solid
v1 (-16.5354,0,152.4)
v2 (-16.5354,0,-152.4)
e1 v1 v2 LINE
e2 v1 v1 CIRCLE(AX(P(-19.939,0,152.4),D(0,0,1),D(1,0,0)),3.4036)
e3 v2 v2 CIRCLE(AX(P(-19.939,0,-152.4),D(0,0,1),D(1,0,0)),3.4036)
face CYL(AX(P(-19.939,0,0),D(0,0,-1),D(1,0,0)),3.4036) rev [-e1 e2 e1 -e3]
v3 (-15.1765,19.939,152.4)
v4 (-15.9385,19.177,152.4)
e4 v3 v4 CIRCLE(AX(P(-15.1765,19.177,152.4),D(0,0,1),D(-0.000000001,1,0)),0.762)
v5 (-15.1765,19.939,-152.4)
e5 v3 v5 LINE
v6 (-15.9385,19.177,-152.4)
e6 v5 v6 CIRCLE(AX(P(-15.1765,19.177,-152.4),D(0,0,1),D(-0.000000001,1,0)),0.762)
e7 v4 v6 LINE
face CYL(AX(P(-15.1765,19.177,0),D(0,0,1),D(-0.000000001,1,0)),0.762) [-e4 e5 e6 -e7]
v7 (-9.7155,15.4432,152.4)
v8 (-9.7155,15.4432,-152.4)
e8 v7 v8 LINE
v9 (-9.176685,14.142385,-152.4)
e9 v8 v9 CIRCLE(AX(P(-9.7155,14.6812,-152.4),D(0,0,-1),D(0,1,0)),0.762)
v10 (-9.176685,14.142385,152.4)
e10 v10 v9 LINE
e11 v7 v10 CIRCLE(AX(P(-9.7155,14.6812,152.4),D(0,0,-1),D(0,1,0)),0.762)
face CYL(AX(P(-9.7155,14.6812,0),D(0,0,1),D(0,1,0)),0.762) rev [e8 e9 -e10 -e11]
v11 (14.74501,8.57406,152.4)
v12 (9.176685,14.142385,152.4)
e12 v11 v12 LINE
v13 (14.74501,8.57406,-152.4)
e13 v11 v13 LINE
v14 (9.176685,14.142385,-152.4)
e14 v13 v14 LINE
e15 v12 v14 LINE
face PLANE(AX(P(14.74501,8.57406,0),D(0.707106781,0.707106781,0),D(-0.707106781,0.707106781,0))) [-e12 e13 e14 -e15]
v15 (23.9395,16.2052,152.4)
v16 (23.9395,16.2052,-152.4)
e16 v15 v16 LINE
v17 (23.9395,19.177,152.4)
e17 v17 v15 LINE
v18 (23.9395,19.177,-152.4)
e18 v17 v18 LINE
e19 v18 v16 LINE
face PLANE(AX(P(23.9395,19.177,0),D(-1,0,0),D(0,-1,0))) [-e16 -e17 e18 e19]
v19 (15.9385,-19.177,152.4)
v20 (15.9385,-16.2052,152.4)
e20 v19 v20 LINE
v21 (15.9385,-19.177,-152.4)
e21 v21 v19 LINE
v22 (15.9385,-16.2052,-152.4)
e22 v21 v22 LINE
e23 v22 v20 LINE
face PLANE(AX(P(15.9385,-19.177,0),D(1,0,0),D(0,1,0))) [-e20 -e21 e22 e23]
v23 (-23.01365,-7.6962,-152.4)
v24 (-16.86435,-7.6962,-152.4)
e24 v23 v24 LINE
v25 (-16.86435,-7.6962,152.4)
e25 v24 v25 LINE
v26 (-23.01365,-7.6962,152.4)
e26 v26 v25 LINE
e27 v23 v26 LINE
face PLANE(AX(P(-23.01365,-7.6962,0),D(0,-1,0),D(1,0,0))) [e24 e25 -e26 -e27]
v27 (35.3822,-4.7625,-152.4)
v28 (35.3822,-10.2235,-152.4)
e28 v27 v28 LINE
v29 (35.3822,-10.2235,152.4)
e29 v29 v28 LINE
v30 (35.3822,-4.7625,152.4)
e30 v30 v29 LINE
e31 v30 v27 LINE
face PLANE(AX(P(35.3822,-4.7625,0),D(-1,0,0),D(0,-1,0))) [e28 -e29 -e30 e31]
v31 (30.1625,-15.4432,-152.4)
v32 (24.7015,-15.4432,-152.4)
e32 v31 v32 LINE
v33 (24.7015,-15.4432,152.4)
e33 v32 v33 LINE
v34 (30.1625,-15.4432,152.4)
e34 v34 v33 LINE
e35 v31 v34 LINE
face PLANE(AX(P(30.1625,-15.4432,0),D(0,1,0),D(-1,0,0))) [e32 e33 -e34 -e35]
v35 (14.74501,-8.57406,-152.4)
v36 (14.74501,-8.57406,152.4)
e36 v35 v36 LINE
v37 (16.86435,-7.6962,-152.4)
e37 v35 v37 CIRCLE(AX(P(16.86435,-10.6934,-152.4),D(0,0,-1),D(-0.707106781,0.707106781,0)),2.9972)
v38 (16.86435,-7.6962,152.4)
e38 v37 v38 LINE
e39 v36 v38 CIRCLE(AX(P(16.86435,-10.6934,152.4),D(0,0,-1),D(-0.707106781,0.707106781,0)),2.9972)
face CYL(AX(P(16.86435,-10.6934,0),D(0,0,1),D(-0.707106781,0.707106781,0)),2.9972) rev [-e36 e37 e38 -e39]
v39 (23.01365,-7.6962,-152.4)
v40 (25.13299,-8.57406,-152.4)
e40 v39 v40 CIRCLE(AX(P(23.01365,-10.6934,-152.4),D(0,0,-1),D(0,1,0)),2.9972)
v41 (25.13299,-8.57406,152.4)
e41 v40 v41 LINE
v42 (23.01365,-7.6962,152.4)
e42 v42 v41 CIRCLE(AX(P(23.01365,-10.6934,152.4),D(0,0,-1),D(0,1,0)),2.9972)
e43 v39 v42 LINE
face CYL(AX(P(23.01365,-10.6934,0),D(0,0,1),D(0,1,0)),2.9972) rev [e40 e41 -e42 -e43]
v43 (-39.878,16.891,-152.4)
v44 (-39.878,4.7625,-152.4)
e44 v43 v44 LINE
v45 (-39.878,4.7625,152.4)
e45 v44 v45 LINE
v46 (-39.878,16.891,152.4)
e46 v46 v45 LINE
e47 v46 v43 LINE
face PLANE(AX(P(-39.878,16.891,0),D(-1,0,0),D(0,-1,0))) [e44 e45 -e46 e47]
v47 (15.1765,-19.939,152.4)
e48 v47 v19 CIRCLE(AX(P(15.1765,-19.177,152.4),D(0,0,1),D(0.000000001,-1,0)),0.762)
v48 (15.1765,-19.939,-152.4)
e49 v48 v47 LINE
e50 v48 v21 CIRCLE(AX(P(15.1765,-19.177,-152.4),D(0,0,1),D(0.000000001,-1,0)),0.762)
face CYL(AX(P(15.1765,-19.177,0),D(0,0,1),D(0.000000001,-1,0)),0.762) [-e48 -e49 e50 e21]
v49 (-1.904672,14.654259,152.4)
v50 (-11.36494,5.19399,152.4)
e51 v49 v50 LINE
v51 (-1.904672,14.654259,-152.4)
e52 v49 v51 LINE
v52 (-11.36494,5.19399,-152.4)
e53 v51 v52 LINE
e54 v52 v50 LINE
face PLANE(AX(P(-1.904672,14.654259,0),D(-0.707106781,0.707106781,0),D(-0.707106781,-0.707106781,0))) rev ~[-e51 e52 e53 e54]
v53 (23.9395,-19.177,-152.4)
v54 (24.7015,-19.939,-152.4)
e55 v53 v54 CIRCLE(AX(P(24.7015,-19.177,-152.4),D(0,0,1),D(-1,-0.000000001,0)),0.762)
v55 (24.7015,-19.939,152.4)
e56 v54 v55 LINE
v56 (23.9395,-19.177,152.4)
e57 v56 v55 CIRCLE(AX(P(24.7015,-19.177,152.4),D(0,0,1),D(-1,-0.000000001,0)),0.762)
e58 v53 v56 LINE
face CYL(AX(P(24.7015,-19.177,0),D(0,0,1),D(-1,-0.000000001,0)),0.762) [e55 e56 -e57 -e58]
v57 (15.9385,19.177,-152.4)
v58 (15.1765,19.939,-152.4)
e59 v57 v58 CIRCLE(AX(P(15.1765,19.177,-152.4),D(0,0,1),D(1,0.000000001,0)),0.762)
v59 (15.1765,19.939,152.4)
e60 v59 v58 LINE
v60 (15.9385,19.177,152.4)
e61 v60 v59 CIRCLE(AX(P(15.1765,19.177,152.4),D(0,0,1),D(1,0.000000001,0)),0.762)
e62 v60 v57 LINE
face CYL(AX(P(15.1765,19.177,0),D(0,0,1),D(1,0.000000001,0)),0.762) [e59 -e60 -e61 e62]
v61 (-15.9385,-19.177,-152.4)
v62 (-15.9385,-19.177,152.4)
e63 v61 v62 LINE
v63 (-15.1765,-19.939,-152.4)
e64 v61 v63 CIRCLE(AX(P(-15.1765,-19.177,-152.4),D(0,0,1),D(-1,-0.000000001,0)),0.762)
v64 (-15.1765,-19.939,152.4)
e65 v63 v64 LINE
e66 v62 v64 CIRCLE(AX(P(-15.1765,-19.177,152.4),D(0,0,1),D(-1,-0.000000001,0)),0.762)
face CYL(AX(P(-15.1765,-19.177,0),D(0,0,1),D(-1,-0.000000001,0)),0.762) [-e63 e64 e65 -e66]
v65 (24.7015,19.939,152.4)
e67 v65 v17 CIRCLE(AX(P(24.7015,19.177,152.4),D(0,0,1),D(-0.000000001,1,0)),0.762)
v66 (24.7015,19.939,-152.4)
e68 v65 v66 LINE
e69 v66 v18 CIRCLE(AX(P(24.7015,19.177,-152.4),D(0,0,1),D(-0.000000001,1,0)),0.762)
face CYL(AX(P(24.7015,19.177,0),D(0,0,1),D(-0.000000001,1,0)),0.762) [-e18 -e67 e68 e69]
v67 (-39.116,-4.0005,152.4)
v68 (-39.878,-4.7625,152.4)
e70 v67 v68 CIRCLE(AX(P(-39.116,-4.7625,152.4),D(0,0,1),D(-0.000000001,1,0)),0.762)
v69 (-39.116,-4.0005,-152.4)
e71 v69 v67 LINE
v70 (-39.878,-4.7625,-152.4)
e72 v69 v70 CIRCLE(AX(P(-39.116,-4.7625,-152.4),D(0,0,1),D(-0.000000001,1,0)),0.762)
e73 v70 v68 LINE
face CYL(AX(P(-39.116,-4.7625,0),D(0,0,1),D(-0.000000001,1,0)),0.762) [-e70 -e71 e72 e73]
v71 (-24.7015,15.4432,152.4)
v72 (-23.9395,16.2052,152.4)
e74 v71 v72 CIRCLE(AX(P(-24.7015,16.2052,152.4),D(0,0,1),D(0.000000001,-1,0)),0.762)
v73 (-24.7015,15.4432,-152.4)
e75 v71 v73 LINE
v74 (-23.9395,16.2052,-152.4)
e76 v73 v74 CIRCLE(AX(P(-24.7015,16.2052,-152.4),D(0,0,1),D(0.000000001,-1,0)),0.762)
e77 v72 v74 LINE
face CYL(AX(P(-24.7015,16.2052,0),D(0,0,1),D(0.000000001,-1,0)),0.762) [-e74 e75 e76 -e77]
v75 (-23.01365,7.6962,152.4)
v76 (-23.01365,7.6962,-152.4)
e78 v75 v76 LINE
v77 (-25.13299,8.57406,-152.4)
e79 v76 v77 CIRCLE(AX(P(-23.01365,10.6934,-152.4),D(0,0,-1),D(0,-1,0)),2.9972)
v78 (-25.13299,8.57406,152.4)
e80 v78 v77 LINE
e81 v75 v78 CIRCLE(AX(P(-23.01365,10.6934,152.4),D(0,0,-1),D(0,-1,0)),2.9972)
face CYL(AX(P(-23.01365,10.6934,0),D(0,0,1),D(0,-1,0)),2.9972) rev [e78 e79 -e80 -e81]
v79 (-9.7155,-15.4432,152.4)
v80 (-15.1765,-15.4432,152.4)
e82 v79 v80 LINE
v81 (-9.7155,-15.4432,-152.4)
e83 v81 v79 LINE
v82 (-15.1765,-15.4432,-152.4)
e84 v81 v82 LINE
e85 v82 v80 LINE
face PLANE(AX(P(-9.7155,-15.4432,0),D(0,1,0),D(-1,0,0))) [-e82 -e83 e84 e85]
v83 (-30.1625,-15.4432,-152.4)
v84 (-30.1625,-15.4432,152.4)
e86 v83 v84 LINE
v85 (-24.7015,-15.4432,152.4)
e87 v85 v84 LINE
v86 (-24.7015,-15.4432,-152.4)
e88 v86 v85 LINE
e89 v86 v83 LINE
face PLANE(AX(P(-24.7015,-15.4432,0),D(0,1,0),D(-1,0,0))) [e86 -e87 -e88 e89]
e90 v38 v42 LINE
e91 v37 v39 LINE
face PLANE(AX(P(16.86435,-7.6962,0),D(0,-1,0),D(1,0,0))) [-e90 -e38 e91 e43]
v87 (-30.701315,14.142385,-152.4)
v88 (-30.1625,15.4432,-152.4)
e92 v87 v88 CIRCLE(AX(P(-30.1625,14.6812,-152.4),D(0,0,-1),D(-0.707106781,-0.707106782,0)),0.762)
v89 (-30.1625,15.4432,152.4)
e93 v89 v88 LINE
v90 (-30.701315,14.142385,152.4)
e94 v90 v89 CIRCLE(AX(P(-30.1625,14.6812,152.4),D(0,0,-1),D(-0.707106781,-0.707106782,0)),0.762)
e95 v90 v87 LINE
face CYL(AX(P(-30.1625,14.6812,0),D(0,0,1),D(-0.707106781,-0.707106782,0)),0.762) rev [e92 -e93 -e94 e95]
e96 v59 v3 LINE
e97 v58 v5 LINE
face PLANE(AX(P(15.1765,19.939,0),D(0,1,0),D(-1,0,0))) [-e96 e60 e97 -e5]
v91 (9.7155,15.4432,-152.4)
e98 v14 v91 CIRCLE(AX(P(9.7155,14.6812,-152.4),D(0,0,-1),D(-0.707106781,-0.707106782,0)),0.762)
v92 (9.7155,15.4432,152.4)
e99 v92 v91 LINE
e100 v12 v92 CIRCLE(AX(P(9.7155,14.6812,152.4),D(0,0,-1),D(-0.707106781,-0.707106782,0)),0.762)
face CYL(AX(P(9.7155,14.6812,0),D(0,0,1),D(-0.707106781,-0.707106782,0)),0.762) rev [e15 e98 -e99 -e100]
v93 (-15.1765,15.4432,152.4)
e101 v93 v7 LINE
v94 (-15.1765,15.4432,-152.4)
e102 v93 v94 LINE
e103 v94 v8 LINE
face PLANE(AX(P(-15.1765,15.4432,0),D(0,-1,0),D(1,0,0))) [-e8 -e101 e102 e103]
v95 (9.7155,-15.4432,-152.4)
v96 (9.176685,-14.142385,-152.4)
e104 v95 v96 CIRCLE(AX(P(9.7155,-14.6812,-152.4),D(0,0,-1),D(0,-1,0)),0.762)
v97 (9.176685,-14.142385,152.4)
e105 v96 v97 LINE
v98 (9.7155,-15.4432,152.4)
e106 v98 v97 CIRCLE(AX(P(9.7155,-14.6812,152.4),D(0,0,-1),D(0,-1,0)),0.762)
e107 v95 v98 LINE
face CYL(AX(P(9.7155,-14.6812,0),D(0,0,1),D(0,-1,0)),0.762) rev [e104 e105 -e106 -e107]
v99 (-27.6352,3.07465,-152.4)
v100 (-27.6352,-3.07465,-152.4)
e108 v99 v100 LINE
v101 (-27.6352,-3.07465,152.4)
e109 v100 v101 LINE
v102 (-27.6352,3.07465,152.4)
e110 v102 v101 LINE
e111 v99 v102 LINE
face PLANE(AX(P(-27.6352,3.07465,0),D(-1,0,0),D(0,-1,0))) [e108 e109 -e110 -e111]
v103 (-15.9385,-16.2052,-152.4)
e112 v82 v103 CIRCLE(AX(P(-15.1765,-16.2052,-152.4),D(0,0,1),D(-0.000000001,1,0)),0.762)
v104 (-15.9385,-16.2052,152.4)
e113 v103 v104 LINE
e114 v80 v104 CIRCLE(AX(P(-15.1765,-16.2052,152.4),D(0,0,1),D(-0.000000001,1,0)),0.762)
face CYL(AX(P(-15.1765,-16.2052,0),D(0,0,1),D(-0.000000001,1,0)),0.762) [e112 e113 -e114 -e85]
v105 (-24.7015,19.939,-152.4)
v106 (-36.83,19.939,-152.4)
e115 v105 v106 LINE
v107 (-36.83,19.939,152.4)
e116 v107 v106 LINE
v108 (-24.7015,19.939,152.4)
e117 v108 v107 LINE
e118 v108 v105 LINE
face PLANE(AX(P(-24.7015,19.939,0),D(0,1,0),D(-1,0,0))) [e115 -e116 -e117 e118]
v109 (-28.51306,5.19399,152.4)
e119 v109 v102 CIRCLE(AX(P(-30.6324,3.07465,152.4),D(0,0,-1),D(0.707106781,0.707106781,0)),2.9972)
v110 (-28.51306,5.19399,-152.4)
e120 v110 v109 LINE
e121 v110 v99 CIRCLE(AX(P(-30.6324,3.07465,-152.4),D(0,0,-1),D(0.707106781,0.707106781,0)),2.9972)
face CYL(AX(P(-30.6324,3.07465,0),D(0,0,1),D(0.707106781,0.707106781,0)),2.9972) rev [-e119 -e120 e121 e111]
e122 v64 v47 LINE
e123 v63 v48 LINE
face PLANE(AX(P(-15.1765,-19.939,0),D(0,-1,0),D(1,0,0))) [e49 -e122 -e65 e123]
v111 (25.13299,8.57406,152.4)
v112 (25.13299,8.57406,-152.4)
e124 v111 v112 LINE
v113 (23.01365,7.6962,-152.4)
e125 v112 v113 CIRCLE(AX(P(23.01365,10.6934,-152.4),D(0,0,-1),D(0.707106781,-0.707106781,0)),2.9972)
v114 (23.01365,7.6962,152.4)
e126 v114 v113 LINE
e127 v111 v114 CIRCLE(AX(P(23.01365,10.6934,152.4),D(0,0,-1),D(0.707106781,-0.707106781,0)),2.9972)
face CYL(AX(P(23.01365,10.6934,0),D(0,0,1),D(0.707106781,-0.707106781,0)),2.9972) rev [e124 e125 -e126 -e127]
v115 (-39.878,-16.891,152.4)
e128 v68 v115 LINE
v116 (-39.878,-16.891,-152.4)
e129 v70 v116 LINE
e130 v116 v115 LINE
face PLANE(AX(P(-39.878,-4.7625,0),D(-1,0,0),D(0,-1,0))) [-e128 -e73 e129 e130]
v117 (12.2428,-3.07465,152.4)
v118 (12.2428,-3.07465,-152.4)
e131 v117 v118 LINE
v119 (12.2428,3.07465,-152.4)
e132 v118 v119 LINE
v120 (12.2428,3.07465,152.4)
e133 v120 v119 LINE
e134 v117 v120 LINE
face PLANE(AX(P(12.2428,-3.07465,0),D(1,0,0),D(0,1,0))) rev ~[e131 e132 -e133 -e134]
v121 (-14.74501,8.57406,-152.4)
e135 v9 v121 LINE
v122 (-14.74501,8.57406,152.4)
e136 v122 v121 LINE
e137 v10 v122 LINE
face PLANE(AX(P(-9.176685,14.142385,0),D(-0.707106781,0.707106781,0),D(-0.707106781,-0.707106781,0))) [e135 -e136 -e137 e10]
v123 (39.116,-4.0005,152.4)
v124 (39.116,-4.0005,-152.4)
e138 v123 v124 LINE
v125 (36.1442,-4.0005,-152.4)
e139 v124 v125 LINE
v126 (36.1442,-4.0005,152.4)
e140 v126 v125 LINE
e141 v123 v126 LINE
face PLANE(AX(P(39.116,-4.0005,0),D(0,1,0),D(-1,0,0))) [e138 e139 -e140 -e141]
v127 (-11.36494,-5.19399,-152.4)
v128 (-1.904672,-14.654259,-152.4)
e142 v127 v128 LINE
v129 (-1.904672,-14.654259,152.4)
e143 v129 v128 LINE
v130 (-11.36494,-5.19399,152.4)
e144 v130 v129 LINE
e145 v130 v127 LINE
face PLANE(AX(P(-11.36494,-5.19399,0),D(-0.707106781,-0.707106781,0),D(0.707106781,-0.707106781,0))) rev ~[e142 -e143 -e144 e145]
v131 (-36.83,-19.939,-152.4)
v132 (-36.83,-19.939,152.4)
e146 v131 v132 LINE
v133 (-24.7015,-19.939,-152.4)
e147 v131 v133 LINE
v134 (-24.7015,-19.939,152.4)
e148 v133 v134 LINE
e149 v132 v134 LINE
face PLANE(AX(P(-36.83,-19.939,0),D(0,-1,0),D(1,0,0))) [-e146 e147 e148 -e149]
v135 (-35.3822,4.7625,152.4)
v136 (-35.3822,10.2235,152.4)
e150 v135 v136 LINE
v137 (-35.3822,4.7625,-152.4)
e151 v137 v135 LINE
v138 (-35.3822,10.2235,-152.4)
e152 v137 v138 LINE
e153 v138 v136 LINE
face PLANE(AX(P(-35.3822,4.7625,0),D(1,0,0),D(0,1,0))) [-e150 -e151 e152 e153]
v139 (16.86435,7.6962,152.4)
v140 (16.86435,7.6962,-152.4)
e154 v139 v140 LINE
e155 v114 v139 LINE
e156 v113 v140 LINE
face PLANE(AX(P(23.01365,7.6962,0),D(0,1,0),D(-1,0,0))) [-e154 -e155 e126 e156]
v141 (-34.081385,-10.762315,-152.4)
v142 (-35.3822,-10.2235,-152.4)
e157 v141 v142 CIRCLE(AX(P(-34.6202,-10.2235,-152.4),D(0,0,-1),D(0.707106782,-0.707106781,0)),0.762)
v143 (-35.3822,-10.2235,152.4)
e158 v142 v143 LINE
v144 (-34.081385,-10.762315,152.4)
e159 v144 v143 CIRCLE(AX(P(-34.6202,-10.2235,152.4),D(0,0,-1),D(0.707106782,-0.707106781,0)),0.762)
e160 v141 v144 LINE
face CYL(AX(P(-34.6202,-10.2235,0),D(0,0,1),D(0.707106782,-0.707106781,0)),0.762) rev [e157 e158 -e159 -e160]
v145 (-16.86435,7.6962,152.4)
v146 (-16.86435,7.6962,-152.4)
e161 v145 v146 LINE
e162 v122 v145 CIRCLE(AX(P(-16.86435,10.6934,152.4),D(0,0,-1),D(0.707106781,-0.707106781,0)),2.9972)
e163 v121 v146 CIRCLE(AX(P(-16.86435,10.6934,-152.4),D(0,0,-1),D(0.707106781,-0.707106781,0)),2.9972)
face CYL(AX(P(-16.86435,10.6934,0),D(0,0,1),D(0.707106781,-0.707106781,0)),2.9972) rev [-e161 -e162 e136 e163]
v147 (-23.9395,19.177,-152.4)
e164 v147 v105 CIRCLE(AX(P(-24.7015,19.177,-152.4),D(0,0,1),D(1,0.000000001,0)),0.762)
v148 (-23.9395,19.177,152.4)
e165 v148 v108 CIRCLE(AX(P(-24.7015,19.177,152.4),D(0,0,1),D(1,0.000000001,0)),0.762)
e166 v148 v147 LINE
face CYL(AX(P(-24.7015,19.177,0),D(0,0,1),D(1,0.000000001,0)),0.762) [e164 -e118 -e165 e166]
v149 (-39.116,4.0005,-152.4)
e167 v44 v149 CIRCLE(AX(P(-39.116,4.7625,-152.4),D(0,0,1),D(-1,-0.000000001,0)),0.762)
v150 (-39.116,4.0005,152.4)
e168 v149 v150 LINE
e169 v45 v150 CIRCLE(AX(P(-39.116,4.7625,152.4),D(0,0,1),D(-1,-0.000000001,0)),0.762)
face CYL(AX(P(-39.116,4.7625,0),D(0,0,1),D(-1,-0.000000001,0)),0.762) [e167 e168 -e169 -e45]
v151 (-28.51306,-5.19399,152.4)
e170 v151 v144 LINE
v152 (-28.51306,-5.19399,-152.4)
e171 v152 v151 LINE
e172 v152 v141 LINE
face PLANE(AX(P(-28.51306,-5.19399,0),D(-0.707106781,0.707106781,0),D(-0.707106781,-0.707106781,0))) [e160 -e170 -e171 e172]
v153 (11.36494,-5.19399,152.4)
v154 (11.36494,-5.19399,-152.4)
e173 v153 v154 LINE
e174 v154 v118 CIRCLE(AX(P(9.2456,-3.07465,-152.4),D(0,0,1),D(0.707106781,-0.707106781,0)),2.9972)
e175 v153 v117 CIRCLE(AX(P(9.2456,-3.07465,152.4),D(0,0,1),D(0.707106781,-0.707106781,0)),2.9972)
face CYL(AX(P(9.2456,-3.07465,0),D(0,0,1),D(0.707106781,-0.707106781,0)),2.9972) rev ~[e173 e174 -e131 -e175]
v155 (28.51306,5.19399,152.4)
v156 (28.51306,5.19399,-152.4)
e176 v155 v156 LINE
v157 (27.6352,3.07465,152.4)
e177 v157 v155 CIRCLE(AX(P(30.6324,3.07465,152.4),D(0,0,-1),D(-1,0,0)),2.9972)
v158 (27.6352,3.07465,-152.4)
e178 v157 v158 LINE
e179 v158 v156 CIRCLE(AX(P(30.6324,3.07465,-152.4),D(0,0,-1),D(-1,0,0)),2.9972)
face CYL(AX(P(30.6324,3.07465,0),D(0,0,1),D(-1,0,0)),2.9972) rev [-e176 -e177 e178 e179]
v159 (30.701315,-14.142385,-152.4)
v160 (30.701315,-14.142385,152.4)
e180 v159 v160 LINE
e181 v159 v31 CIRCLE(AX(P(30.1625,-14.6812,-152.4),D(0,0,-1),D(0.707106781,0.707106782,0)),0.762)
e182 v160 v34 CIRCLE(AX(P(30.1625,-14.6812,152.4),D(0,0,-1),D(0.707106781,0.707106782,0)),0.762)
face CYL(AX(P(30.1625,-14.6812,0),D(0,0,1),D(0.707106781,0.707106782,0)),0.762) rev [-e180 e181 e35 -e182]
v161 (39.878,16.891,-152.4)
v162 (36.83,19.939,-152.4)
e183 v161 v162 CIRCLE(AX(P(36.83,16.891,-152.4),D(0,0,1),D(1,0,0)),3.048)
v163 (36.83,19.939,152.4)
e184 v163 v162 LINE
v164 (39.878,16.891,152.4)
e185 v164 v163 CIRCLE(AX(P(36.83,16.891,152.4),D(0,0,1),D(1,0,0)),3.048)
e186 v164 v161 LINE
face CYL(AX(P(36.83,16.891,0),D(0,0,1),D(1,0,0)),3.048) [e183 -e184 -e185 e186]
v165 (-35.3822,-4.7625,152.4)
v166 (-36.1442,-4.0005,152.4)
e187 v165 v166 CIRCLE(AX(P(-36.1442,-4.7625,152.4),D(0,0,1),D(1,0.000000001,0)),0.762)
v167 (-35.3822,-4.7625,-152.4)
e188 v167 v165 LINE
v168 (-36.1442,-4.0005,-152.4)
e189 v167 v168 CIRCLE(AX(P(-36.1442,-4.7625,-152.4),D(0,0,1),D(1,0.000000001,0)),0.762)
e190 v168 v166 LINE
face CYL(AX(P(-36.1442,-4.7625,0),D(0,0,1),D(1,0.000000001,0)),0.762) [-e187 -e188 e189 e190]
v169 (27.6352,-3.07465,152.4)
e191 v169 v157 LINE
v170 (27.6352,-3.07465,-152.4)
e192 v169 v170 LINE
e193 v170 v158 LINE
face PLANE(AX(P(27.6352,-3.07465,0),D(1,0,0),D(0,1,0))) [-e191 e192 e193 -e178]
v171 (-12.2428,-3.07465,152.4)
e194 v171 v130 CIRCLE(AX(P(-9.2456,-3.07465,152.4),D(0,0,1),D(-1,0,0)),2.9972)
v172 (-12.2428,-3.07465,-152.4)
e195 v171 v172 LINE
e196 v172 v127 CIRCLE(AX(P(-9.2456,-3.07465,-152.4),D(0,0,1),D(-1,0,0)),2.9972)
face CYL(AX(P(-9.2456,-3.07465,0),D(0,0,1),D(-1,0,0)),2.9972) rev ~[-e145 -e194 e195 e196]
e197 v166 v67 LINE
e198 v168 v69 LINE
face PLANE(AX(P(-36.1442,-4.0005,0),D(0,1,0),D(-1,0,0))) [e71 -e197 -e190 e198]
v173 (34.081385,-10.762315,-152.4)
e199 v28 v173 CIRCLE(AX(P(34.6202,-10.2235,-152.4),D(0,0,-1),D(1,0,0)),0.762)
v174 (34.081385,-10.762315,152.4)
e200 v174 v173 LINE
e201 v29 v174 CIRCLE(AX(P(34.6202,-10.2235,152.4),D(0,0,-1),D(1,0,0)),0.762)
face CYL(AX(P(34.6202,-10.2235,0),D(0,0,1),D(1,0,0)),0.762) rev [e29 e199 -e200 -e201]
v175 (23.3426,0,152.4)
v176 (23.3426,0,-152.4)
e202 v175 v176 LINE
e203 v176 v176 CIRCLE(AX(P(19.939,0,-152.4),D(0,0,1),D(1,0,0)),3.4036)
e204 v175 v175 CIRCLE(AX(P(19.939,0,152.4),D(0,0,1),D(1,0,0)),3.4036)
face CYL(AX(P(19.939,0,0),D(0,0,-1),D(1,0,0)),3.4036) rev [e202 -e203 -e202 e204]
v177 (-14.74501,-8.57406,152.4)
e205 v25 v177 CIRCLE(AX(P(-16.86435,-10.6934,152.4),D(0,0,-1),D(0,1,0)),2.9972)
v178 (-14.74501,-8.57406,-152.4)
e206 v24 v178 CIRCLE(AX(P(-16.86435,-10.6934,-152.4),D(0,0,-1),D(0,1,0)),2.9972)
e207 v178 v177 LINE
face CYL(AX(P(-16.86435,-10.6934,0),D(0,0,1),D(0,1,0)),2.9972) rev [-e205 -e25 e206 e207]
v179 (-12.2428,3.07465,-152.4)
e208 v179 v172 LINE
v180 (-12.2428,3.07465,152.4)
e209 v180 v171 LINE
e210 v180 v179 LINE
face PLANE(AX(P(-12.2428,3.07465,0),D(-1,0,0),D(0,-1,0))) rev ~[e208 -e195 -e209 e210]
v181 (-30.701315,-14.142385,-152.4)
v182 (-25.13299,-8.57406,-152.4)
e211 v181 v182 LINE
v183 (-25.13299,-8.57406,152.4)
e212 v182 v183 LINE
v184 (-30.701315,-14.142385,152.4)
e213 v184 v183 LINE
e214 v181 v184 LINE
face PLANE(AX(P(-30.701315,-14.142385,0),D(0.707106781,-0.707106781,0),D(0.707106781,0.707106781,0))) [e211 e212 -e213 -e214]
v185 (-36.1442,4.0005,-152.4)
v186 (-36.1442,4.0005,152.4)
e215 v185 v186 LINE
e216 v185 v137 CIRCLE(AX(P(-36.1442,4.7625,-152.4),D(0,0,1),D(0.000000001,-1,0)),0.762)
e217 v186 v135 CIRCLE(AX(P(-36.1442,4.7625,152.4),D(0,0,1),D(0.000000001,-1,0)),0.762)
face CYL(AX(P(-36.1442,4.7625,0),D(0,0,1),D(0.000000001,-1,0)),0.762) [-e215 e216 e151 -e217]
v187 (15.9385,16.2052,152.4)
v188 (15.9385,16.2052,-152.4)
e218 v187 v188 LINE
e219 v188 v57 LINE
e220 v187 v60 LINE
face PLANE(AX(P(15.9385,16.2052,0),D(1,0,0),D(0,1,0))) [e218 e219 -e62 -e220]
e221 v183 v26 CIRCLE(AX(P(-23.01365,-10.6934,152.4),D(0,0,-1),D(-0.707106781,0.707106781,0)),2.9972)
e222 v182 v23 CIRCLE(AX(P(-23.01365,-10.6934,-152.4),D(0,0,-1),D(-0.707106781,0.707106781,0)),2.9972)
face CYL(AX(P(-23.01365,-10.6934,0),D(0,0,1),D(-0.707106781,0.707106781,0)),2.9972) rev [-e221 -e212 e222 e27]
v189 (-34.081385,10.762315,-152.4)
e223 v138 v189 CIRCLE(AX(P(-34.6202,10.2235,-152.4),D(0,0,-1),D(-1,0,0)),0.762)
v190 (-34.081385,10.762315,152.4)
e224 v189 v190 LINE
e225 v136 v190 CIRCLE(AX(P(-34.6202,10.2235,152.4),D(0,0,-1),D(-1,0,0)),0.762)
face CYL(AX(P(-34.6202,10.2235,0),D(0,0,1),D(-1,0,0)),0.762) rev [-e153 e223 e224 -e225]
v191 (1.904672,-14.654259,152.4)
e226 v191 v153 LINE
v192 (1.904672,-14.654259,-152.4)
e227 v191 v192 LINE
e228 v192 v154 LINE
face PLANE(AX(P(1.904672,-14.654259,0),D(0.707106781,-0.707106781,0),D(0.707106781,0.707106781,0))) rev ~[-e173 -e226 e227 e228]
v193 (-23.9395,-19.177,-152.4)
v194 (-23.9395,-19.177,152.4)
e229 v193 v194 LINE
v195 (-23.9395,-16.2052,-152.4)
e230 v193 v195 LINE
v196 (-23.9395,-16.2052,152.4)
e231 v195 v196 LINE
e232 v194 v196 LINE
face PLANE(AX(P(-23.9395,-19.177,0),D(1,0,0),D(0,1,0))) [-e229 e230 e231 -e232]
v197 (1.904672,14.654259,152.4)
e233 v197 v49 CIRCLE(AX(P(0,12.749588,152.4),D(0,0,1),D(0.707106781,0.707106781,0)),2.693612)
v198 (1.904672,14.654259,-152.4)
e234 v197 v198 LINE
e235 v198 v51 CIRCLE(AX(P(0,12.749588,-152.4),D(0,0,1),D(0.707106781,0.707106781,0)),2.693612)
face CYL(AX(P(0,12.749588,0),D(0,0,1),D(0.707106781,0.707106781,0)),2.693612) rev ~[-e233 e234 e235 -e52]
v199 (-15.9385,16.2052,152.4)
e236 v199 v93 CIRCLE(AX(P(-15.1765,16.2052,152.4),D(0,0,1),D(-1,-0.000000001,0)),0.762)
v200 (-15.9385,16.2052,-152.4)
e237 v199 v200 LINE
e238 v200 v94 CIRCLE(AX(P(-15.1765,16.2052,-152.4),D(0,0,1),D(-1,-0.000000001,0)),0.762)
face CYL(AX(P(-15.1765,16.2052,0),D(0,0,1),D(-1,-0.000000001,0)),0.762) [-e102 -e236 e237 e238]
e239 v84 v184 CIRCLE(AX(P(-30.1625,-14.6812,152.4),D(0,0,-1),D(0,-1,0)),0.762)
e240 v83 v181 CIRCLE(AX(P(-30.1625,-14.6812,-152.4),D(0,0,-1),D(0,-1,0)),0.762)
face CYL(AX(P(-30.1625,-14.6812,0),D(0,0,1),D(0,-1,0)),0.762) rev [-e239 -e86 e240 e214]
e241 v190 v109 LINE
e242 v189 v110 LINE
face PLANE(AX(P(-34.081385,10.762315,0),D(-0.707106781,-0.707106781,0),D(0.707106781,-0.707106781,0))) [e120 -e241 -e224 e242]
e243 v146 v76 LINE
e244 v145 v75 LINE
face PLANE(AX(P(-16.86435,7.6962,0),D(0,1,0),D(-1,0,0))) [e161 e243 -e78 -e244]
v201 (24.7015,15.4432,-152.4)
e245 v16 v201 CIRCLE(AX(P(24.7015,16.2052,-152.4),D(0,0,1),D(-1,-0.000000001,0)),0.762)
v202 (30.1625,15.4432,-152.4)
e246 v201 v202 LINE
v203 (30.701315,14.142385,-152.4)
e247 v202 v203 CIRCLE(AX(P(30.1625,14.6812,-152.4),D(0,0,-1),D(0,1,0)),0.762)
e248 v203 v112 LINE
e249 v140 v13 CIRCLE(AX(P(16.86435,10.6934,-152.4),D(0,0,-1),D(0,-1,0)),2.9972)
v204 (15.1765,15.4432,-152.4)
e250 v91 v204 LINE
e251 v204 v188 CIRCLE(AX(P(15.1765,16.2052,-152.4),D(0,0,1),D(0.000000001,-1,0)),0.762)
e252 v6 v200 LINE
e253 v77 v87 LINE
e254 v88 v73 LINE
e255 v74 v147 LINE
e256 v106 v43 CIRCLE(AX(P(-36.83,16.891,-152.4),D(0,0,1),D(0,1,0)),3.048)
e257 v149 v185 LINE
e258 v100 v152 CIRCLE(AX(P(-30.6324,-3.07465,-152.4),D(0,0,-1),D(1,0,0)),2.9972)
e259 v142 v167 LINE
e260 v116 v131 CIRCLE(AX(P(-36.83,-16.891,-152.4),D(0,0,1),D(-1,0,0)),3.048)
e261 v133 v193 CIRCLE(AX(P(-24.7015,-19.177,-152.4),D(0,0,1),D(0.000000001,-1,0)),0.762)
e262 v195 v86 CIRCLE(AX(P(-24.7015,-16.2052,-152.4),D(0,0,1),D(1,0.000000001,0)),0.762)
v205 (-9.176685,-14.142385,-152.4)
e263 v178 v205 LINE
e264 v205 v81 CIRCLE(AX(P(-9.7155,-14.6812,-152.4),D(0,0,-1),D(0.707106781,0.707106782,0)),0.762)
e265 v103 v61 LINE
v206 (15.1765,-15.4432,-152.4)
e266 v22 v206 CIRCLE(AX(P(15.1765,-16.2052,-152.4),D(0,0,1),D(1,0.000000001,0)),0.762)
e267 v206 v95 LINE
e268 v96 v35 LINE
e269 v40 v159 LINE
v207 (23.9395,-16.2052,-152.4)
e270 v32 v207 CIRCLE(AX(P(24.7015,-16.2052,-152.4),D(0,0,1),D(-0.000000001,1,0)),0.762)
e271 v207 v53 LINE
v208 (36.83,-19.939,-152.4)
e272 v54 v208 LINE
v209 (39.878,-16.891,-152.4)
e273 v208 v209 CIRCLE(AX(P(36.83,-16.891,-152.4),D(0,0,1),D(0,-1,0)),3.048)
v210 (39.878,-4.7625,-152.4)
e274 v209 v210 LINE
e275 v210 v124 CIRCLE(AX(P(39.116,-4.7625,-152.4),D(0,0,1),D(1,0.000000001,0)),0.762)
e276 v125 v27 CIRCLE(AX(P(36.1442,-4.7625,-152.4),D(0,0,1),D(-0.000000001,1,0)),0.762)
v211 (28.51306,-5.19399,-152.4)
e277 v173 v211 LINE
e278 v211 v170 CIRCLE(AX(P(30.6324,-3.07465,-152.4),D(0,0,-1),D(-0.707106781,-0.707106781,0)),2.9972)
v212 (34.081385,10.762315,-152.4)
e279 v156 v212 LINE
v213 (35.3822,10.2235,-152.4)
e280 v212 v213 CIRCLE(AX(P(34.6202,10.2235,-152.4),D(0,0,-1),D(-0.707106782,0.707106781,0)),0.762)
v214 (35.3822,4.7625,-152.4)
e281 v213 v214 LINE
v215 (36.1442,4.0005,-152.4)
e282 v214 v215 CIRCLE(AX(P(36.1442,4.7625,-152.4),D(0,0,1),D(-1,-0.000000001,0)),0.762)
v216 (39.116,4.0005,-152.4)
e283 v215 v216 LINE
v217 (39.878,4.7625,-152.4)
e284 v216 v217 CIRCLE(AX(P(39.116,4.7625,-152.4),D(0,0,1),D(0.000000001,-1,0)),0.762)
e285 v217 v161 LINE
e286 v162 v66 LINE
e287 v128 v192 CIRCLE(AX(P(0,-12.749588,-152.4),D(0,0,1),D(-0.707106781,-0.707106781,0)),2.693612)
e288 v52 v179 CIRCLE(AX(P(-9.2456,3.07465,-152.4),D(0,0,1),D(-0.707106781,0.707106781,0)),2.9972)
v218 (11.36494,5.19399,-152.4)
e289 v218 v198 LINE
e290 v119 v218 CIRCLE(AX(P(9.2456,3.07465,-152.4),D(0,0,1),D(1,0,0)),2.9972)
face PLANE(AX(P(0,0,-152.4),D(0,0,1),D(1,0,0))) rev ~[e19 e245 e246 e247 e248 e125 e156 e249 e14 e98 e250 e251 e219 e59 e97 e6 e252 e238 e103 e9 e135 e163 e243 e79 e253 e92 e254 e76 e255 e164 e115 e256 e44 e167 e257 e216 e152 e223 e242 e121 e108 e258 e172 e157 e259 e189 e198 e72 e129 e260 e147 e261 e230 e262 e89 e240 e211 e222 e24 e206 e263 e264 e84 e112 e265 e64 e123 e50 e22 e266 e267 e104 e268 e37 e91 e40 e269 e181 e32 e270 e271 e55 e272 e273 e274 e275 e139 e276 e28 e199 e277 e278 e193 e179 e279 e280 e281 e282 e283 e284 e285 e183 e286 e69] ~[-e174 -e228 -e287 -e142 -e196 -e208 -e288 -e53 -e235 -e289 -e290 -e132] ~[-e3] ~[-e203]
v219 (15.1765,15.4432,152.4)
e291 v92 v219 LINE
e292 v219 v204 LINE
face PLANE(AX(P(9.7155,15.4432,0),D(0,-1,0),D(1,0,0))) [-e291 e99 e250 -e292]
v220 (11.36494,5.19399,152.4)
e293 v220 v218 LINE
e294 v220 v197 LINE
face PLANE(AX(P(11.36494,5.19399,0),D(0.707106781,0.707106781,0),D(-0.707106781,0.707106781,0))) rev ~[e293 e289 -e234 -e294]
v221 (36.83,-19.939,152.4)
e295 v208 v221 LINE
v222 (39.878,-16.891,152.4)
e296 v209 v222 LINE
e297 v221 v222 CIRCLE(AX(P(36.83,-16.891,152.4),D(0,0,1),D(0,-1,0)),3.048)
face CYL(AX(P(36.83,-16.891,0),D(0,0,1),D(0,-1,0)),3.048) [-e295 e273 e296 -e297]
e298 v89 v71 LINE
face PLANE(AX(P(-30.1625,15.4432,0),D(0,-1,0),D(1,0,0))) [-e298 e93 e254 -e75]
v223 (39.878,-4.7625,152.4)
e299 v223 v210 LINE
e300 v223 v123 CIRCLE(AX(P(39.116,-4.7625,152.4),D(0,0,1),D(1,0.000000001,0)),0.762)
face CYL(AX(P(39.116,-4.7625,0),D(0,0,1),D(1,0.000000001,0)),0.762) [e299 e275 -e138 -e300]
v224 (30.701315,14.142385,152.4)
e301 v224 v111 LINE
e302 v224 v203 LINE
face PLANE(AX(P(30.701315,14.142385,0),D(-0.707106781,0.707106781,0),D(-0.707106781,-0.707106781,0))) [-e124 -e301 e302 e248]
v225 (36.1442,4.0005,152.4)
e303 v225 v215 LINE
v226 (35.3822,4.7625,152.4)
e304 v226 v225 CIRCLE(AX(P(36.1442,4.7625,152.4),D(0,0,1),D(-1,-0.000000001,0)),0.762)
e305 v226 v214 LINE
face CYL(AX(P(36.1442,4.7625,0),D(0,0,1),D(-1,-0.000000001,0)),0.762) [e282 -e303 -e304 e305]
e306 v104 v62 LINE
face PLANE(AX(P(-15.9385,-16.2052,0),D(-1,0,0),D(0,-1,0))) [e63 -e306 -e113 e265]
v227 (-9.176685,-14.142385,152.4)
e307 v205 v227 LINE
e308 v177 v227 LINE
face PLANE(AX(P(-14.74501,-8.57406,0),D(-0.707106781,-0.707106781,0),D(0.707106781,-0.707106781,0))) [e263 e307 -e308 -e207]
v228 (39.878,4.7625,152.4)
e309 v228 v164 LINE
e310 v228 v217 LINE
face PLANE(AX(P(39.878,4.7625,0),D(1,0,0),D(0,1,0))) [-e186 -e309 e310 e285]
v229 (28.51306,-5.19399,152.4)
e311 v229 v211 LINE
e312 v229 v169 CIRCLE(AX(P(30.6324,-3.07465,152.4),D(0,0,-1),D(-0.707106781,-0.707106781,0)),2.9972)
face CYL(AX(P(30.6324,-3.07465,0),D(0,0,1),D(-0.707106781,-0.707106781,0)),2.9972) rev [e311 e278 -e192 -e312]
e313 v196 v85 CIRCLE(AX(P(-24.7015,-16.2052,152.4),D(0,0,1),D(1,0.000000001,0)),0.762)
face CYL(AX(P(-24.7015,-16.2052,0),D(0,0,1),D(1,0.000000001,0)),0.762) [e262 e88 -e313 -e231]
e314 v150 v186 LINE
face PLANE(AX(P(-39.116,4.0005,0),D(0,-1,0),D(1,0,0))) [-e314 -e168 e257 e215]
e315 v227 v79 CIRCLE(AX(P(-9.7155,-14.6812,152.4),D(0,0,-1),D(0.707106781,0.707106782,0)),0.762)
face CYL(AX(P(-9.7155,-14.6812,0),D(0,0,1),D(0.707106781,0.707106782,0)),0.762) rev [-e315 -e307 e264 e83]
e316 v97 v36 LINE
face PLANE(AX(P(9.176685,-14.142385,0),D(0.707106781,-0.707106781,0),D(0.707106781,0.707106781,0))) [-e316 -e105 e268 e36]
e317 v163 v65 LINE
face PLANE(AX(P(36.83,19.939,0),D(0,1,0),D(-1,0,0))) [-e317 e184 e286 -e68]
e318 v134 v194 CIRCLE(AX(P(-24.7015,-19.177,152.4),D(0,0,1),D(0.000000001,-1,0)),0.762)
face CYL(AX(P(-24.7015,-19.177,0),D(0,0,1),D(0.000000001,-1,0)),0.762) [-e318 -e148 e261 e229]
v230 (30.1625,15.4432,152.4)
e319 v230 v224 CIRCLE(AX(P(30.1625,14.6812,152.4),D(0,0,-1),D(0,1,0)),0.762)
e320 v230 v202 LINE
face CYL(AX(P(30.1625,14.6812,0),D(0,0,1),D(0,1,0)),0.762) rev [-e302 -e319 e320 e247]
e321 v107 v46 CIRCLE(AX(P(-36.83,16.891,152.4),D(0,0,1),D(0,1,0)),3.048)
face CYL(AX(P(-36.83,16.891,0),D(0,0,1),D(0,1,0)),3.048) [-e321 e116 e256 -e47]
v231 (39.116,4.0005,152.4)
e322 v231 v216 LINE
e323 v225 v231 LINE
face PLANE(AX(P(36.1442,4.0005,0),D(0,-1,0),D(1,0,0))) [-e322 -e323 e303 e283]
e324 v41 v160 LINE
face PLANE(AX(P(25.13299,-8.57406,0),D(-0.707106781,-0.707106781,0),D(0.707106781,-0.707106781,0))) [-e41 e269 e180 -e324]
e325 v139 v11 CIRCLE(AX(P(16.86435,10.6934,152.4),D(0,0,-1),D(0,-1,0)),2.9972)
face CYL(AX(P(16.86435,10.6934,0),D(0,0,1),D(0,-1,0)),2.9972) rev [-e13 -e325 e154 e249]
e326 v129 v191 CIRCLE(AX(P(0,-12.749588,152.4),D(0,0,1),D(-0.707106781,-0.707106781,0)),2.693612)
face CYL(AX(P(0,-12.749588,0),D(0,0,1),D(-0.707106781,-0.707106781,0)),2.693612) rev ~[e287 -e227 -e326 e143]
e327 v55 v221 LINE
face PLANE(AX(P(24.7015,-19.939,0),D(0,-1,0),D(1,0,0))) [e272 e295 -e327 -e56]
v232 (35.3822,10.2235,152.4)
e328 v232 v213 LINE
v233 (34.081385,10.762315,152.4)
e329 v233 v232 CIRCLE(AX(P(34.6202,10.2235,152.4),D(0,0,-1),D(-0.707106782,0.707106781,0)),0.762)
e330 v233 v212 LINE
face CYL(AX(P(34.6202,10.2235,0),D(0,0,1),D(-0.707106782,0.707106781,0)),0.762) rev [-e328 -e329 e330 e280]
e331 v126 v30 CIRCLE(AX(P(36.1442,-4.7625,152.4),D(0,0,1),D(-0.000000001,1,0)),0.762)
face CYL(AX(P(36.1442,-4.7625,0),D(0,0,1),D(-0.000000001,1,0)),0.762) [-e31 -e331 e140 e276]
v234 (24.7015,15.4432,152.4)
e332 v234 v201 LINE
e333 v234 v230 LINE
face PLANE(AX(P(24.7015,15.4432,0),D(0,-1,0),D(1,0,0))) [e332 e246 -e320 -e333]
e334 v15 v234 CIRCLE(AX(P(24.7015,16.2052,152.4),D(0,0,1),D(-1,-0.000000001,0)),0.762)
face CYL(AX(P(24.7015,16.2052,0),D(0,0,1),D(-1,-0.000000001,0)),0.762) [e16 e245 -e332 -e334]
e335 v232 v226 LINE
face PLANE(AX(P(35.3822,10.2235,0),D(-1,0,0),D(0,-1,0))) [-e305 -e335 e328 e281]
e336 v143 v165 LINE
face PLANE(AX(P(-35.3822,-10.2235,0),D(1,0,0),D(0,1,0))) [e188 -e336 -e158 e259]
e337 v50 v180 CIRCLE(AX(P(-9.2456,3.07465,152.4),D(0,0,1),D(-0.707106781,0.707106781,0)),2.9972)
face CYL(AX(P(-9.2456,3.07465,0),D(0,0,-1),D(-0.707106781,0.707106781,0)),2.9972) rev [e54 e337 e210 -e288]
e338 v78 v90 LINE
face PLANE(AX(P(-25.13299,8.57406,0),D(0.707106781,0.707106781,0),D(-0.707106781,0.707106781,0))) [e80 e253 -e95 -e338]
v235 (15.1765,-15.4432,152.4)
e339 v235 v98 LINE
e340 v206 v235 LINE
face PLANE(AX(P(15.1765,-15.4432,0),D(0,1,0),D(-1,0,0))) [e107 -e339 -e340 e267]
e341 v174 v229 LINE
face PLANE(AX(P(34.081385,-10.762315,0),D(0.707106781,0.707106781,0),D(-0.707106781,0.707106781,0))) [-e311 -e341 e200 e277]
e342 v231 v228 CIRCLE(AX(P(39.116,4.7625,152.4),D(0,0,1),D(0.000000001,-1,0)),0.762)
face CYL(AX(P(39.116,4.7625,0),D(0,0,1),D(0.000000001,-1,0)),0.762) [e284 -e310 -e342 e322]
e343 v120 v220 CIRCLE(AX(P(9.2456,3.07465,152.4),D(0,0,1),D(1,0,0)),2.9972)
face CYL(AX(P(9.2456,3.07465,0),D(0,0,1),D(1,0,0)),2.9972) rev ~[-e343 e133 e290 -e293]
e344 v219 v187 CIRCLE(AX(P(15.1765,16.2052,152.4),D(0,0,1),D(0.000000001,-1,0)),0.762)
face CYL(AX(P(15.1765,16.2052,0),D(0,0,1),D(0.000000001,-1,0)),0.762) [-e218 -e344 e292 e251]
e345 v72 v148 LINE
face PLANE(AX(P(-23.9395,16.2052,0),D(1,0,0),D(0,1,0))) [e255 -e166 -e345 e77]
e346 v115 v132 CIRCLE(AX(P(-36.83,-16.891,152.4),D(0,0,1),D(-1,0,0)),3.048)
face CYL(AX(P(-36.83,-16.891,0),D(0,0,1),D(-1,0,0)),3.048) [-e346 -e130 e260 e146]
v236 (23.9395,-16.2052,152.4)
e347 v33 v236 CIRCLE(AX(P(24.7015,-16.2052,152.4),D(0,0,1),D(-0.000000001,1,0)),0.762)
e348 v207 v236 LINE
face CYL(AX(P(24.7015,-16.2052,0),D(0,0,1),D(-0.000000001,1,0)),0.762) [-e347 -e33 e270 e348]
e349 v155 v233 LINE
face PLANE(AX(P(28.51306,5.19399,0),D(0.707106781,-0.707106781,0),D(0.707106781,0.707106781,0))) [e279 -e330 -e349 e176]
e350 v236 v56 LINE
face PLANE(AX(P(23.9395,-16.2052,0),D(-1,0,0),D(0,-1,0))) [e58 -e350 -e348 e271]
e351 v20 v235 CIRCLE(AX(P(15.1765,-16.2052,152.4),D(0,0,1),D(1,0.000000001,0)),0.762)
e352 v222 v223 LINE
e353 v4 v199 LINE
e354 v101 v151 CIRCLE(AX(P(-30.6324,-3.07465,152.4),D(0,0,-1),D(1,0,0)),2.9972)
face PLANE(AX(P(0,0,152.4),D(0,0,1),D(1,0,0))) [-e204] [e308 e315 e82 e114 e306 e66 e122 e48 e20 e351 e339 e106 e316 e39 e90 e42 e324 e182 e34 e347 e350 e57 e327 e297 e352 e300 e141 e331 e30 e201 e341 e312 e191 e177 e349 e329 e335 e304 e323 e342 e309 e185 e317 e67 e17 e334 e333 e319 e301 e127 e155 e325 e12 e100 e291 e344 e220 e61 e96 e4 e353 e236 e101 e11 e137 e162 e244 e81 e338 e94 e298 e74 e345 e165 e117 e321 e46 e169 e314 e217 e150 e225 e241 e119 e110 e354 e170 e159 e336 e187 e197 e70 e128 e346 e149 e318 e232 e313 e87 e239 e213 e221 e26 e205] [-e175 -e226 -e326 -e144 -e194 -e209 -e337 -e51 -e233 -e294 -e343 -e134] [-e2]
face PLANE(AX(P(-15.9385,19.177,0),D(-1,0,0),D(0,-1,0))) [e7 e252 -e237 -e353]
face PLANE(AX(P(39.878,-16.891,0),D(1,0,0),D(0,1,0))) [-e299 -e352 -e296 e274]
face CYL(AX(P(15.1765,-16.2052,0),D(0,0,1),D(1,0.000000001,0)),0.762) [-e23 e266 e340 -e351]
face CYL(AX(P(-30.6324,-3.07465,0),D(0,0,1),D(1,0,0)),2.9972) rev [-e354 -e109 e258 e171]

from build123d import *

# Parameters (mm, degrees)
SKETCH1_R           = 3.4036
BOSS_EXTRUDE1_DEPTH = 152.4


with BuildPart() as part:
    # Sketch1 → Boss-Extrude1 (new body, symmetric)
    with BuildSketch(Plane.XY):
        with BuildLine():
            Line((-39.878, 16.891), (-39.878, 4.7625))
            ThreePointArc((-39.878, 4.7625), (-39.654815367, 4.223684633), (-39.116, 4.0005))
            Line((-39.116, 4.0005), (-36.1442, 4.0005))
            ThreePointArc((-36.1442, 4.0005), (-35.605384633, 4.223684633), (-35.3822, 4.7625))
            Line((-35.3822, 4.7625), (-35.3822, 10.2235))
            ThreePointArc((-35.3822, 10.2235), (-34.911804775, 10.927496204), (-34.081384633, 10.762315367))
            Line((-34.081384633, 10.762315367), (-28.513059555, 5.19399029))
            ThreePointArc((-28.513059555, 5.19399029), (-27.863348265, 4.221628629), (-27.6352, 3.074649845))
            Line((-27.6352, 3.074649845), (-27.6352, -3.074649845))
            ThreePointArc((-27.6352, -3.074649845), (-27.863348265, -4.221628629), (-28.513059555, -5.19399029))
            Line((-28.513059555, -5.19399029), (-34.081384633, -10.762315367))
            ThreePointArc((-34.081384633, -10.762315367), (-34.911804775, -10.927496204), (-35.3822, -10.2235))
            Line((-35.3822, -10.2235), (-35.3822, -4.7625))
            ThreePointArc((-35.3822, -4.7625), (-35.605384633, -4.223684633), (-36.1442, -4.0005))
            Line((-36.1442, -4.0005), (-39.116, -4.0005))
            ThreePointArc((-39.116, -4.0005), (-39.654815367, -4.223684633), (-39.878, -4.7625))
            Line((-39.878, -4.7625), (-39.878, -16.891))
            ThreePointArc((-39.878, -16.891), (-38.985261469, -19.046261469), (-36.83, -19.939))
            Line((-36.83, -19.939), (-24.7015, -19.939))
            ThreePointArc((-24.7015, -19.939), (-24.162684633, -19.715815367), (-23.9395, -19.177))
            Line((-23.9395, -19.177), (-23.9395, -16.2052))
            ThreePointArc((-23.9395, -16.2052), (-24.162684633, -15.666384633), (-24.7015, -15.4432))
            Line((-24.7015, -15.4432), (-30.1625, -15.4432))
            ThreePointArc((-30.1625, -15.4432), (-30.866496204, -14.972804775), (-30.701315367, -14.142384633))
            Line((-30.701315367, -14.142384633), (-25.13299029, -8.574059555))
            ThreePointArc((-25.13299029, -8.574059555), (-24.160628629, -7.924348265), (-23.013649845, -7.6962))
            Line((-23.013649845, -7.6962), (-16.864350155, -7.6962))
            ThreePointArc((-16.864350155, -7.6962), (-15.717371371, -7.924348265), (-14.74500971, -8.574059555))
            Line((-14.74500971, -8.574059555), (-9.176684633, -14.142384633))
            ThreePointArc((-9.176684633, -14.142384633), (-9.011503796, -14.972804775), (-9.7155, -15.4432))
            Line((-9.7155, -15.4432), (-15.1765, -15.4432))
            ThreePointArc((-15.1765, -15.4432), (-15.715315367, -15.666384633), (-15.9385, -16.2052))
            Line((-15.9385, -16.2052), (-15.9385, -19.177))
            ThreePointArc((-15.9385, -19.177), (-15.715315367, -19.715815367), (-15.1765, -19.939))
            Line((-15.1765, -19.939), (15.1765, -19.939))
            ThreePointArc((15.1765, -19.939), (15.715315367, -19.715815367), (15.9385, -19.177))
            Line((15.9385, -19.177), (15.9385, -16.2052))
            ThreePointArc((15.9385, -16.2052), (15.715315367, -15.666384633), (15.1765, -15.4432))
            Line((15.1765, -15.4432), (9.7155, -15.4432))
            ThreePointArc((9.7155, -15.4432), (9.011503796, -14.972804775), (9.176684633, -14.142384633))
            Line((9.176684633, -14.142384633), (14.74500971, -8.574059555))
            ThreePointArc((14.74500971, -8.574059555), (15.717371371, -7.924348265), (16.864350155, -7.6962))
            Line((16.864350155, -7.6962), (23.013649845, -7.6962))
            ThreePointArc((23.013649845, -7.6962), (24.160628629, -7.924348265), (25.13299029, -8.574059555))
            Line((25.13299029, -8.574059555), (30.701315367, -14.142384633))
            ThreePointArc((30.701315367, -14.142384633), (30.866496204, -14.972804775), (30.1625, -15.4432))
            Line((30.1625, -15.4432), (24.7015, -15.4432))
            ThreePointArc((24.7015, -15.4432), (24.162684633, -15.666384633), (23.9395, -16.2052))
            Line((23.9395, -16.2052), (23.9395, -19.177))
            ThreePointArc((23.9395, -19.177), (24.162684633, -19.715815367), (24.7015, -19.939))
            Line((24.7015, -19.939), (36.83, -19.939))
            ThreePointArc((36.83, -19.939), (38.985261469, -19.046261469), (39.878, -16.891))
            Line((39.878, -16.891), (39.878, -4.7625))
            ThreePointArc((39.878, -4.7625), (39.654815367, -4.223684633), (39.116, -4.0005))
            Line((39.116, -4.0005), (36.1442, -4.0005))
            ThreePointArc((36.1442, -4.0005), (35.605384633, -4.223684633), (35.3822, -4.7625))
            Line((35.3822, -4.7625), (35.3822, -10.2235))
            ThreePointArc((35.3822, -10.2235), (34.911804775, -10.927496204), (34.081384633, -10.762315367))
            Line((34.081384633, -10.762315367), (28.513059555, -5.19399029))
            ThreePointArc((28.513059555, -5.19399029), (27.863348265, -4.221628629), (27.6352, -3.074649845))
            Line((27.6352, -3.074649845), (27.6352, 3.074649845))
            ThreePointArc((27.6352, 3.074649845), (27.863348265, 4.221628629), (28.513059555, 5.19399029))
            Line((28.513059555, 5.19399029), (34.081384633, 10.762315367))
            ThreePointArc((34.081384633, 10.762315367), (34.911804775, 10.927496204), (35.3822, 10.2235))
            Line((35.3822, 10.2235), (35.3822, 4.7625))
            ThreePointArc((35.3822, 4.7625), (35.605384633, 4.223684633), (36.1442, 4.0005))
            Line((36.1442, 4.0005), (39.116, 4.0005))
            ThreePointArc((39.116, 4.0005), (39.654815367, 4.223684633), (39.878, 4.7625))
            Line((39.878, 4.7625), (39.878, 16.891))
            ThreePointArc((39.878, 16.891), (38.985261469, 19.046261469), (36.83, 19.939))
            Line((36.83, 19.939), (24.7015, 19.939))
            ThreePointArc((24.7015, 19.939), (24.162684633, 19.715815367), (23.9395, 19.177))
            Line((23.9395, 19.177), (23.9395, 16.2052))
            ThreePointArc((23.9395, 16.2052), (24.162684633, 15.666384633), (24.7015, 15.4432))
            Line((24.7015, 15.4432), (30.1625, 15.4432))
            ThreePointArc((30.1625, 15.4432), (30.866496204, 14.972804775), (30.701315367, 14.142384633))
            Line((30.701315367, 14.142384633), (25.13299029, 8.574059555))
            ThreePointArc((25.13299029, 8.574059555), (24.160628629, 7.924348265), (23.013649845, 7.6962))
            Line((23.013649845, 7.6962), (16.864350155, 7.6962))
            ThreePointArc((16.864350155, 7.6962), (15.717371371, 7.924348265), (14.74500971, 8.574059555))
            Line((14.74500971, 8.574059555), (9.176684633, 14.142384633))
            ThreePointArc((9.176684633, 14.142384633), (9.011503796, 14.972804775), (9.7155, 15.4432))
            Line((9.7155, 15.4432), (15.1765, 15.4432))
            ThreePointArc((15.1765, 15.4432), (15.715315367, 15.666384633), (15.9385, 16.2052))
            Line((15.9385, 16.2052), (15.9385, 19.177))
            ThreePointArc((15.9385, 19.177), (15.715315367, 19.715815367), (15.1765, 19.939))
            Line((15.1765, 19.939), (-15.1765, 19.939))
            ThreePointArc((-15.1765, 19.939), (-15.715315367, 19.715815367), (-15.9385, 19.177))
            Line((-15.9385, 19.177), (-15.9385, 16.2052))
            ThreePointArc((-15.9385, 16.2052), (-15.715315367, 15.666384633), (-15.1765, 15.4432))
            Line((-15.1765, 15.4432), (-9.7155, 15.4432))
            ThreePointArc((-9.7155, 15.4432), (-9.011503796, 14.972804775), (-9.176684633, 14.142384633))
            Line((-9.176684633, 14.142384633), (-14.74500971, 8.574059555))
            ThreePointArc((-14.74500971, 8.574059555), (-15.717371371, 7.924348265), (-16.864350155, 7.6962))
            Line((-16.864350155, 7.6962), (-23.013649845, 7.6962))
            ThreePointArc((-23.013649845, 7.6962), (-24.160628629, 7.924348265), (-25.13299029, 8.574059555))
            Line((-25.13299029, 8.574059555), (-30.701315367, 14.142384633))
            ThreePointArc((-30.701315367, 14.142384633), (-30.866496204, 14.972804775), (-30.1625, 15.4432))
            Line((-30.1625, 15.4432), (-24.7015, 15.4432))
            ThreePointArc((-24.7015, 15.4432), (-24.162684633, 15.666384633), (-23.9395, 16.2052))
            Line((-23.9395, 16.2052), (-23.9395, 19.177))
            ThreePointArc((-23.9395, 19.177), (-24.162684633, 19.715815367), (-24.7015, 19.939))
            Line((-24.7015, 19.939), (-36.83, 19.939))
            ThreePointArc((-36.83, 19.939), (-38.985261469, 19.046261469), (-39.878, 16.891))
        make_face()
        with Locations((-19.939, 0)):
            Circle(SKETCH1_R, mode=Mode.SUBTRACT)
        with Locations((19.939, 0)):
            Circle(SKETCH1_R, mode=Mode.SUBTRACT)
        with BuildLine():
            Line((-12.2428, 3.074649845), (-12.2428, -3.074649845))
            ThreePointArc((-12.2428, -3.074649845), (-12.014651735, -4.221628629), (-11.364940445, -5.19399029))
            Line((-11.364940445, -5.19399029), (-1.904671503, -14.654259232))
            ThreePointArc((-1.904671503, -14.654259232), (0, -15.4432), (1.904671503, -14.654259232))
            Line((1.904671503, -14.654259232), (11.364940445, -5.19399029))
            ThreePointArc((11.364940445, -5.19399029), (12.014651735, -4.221628629), (12.2428, -3.074649845))
            Line((12.2428, -3.074649845), (12.2428, 3.074649845))
            ThreePointArc((12.2428, 3.074649845), (12.014651735, 4.221628629), (11.364940445, 5.19399029))
            Line((11.364940445, 5.19399029), (1.904671503, 14.654259232))
            ThreePointArc((1.904671503, 14.654259232), (0, 15.4432), (-1.904671503, 14.654259232))
            Line((-1.904671503, 14.654259232), (-11.364940445, 5.19399029))
            ThreePointArc((-11.364940445, 5.19399029), (-12.014651735, 4.221628629), (-12.2428, 3.074649845))
        make_face(mode=Mode.SUBTRACT)
    extrude(amount=BOSS_EXTRUDE1_DEPTH, both=True)


solid = part.part
